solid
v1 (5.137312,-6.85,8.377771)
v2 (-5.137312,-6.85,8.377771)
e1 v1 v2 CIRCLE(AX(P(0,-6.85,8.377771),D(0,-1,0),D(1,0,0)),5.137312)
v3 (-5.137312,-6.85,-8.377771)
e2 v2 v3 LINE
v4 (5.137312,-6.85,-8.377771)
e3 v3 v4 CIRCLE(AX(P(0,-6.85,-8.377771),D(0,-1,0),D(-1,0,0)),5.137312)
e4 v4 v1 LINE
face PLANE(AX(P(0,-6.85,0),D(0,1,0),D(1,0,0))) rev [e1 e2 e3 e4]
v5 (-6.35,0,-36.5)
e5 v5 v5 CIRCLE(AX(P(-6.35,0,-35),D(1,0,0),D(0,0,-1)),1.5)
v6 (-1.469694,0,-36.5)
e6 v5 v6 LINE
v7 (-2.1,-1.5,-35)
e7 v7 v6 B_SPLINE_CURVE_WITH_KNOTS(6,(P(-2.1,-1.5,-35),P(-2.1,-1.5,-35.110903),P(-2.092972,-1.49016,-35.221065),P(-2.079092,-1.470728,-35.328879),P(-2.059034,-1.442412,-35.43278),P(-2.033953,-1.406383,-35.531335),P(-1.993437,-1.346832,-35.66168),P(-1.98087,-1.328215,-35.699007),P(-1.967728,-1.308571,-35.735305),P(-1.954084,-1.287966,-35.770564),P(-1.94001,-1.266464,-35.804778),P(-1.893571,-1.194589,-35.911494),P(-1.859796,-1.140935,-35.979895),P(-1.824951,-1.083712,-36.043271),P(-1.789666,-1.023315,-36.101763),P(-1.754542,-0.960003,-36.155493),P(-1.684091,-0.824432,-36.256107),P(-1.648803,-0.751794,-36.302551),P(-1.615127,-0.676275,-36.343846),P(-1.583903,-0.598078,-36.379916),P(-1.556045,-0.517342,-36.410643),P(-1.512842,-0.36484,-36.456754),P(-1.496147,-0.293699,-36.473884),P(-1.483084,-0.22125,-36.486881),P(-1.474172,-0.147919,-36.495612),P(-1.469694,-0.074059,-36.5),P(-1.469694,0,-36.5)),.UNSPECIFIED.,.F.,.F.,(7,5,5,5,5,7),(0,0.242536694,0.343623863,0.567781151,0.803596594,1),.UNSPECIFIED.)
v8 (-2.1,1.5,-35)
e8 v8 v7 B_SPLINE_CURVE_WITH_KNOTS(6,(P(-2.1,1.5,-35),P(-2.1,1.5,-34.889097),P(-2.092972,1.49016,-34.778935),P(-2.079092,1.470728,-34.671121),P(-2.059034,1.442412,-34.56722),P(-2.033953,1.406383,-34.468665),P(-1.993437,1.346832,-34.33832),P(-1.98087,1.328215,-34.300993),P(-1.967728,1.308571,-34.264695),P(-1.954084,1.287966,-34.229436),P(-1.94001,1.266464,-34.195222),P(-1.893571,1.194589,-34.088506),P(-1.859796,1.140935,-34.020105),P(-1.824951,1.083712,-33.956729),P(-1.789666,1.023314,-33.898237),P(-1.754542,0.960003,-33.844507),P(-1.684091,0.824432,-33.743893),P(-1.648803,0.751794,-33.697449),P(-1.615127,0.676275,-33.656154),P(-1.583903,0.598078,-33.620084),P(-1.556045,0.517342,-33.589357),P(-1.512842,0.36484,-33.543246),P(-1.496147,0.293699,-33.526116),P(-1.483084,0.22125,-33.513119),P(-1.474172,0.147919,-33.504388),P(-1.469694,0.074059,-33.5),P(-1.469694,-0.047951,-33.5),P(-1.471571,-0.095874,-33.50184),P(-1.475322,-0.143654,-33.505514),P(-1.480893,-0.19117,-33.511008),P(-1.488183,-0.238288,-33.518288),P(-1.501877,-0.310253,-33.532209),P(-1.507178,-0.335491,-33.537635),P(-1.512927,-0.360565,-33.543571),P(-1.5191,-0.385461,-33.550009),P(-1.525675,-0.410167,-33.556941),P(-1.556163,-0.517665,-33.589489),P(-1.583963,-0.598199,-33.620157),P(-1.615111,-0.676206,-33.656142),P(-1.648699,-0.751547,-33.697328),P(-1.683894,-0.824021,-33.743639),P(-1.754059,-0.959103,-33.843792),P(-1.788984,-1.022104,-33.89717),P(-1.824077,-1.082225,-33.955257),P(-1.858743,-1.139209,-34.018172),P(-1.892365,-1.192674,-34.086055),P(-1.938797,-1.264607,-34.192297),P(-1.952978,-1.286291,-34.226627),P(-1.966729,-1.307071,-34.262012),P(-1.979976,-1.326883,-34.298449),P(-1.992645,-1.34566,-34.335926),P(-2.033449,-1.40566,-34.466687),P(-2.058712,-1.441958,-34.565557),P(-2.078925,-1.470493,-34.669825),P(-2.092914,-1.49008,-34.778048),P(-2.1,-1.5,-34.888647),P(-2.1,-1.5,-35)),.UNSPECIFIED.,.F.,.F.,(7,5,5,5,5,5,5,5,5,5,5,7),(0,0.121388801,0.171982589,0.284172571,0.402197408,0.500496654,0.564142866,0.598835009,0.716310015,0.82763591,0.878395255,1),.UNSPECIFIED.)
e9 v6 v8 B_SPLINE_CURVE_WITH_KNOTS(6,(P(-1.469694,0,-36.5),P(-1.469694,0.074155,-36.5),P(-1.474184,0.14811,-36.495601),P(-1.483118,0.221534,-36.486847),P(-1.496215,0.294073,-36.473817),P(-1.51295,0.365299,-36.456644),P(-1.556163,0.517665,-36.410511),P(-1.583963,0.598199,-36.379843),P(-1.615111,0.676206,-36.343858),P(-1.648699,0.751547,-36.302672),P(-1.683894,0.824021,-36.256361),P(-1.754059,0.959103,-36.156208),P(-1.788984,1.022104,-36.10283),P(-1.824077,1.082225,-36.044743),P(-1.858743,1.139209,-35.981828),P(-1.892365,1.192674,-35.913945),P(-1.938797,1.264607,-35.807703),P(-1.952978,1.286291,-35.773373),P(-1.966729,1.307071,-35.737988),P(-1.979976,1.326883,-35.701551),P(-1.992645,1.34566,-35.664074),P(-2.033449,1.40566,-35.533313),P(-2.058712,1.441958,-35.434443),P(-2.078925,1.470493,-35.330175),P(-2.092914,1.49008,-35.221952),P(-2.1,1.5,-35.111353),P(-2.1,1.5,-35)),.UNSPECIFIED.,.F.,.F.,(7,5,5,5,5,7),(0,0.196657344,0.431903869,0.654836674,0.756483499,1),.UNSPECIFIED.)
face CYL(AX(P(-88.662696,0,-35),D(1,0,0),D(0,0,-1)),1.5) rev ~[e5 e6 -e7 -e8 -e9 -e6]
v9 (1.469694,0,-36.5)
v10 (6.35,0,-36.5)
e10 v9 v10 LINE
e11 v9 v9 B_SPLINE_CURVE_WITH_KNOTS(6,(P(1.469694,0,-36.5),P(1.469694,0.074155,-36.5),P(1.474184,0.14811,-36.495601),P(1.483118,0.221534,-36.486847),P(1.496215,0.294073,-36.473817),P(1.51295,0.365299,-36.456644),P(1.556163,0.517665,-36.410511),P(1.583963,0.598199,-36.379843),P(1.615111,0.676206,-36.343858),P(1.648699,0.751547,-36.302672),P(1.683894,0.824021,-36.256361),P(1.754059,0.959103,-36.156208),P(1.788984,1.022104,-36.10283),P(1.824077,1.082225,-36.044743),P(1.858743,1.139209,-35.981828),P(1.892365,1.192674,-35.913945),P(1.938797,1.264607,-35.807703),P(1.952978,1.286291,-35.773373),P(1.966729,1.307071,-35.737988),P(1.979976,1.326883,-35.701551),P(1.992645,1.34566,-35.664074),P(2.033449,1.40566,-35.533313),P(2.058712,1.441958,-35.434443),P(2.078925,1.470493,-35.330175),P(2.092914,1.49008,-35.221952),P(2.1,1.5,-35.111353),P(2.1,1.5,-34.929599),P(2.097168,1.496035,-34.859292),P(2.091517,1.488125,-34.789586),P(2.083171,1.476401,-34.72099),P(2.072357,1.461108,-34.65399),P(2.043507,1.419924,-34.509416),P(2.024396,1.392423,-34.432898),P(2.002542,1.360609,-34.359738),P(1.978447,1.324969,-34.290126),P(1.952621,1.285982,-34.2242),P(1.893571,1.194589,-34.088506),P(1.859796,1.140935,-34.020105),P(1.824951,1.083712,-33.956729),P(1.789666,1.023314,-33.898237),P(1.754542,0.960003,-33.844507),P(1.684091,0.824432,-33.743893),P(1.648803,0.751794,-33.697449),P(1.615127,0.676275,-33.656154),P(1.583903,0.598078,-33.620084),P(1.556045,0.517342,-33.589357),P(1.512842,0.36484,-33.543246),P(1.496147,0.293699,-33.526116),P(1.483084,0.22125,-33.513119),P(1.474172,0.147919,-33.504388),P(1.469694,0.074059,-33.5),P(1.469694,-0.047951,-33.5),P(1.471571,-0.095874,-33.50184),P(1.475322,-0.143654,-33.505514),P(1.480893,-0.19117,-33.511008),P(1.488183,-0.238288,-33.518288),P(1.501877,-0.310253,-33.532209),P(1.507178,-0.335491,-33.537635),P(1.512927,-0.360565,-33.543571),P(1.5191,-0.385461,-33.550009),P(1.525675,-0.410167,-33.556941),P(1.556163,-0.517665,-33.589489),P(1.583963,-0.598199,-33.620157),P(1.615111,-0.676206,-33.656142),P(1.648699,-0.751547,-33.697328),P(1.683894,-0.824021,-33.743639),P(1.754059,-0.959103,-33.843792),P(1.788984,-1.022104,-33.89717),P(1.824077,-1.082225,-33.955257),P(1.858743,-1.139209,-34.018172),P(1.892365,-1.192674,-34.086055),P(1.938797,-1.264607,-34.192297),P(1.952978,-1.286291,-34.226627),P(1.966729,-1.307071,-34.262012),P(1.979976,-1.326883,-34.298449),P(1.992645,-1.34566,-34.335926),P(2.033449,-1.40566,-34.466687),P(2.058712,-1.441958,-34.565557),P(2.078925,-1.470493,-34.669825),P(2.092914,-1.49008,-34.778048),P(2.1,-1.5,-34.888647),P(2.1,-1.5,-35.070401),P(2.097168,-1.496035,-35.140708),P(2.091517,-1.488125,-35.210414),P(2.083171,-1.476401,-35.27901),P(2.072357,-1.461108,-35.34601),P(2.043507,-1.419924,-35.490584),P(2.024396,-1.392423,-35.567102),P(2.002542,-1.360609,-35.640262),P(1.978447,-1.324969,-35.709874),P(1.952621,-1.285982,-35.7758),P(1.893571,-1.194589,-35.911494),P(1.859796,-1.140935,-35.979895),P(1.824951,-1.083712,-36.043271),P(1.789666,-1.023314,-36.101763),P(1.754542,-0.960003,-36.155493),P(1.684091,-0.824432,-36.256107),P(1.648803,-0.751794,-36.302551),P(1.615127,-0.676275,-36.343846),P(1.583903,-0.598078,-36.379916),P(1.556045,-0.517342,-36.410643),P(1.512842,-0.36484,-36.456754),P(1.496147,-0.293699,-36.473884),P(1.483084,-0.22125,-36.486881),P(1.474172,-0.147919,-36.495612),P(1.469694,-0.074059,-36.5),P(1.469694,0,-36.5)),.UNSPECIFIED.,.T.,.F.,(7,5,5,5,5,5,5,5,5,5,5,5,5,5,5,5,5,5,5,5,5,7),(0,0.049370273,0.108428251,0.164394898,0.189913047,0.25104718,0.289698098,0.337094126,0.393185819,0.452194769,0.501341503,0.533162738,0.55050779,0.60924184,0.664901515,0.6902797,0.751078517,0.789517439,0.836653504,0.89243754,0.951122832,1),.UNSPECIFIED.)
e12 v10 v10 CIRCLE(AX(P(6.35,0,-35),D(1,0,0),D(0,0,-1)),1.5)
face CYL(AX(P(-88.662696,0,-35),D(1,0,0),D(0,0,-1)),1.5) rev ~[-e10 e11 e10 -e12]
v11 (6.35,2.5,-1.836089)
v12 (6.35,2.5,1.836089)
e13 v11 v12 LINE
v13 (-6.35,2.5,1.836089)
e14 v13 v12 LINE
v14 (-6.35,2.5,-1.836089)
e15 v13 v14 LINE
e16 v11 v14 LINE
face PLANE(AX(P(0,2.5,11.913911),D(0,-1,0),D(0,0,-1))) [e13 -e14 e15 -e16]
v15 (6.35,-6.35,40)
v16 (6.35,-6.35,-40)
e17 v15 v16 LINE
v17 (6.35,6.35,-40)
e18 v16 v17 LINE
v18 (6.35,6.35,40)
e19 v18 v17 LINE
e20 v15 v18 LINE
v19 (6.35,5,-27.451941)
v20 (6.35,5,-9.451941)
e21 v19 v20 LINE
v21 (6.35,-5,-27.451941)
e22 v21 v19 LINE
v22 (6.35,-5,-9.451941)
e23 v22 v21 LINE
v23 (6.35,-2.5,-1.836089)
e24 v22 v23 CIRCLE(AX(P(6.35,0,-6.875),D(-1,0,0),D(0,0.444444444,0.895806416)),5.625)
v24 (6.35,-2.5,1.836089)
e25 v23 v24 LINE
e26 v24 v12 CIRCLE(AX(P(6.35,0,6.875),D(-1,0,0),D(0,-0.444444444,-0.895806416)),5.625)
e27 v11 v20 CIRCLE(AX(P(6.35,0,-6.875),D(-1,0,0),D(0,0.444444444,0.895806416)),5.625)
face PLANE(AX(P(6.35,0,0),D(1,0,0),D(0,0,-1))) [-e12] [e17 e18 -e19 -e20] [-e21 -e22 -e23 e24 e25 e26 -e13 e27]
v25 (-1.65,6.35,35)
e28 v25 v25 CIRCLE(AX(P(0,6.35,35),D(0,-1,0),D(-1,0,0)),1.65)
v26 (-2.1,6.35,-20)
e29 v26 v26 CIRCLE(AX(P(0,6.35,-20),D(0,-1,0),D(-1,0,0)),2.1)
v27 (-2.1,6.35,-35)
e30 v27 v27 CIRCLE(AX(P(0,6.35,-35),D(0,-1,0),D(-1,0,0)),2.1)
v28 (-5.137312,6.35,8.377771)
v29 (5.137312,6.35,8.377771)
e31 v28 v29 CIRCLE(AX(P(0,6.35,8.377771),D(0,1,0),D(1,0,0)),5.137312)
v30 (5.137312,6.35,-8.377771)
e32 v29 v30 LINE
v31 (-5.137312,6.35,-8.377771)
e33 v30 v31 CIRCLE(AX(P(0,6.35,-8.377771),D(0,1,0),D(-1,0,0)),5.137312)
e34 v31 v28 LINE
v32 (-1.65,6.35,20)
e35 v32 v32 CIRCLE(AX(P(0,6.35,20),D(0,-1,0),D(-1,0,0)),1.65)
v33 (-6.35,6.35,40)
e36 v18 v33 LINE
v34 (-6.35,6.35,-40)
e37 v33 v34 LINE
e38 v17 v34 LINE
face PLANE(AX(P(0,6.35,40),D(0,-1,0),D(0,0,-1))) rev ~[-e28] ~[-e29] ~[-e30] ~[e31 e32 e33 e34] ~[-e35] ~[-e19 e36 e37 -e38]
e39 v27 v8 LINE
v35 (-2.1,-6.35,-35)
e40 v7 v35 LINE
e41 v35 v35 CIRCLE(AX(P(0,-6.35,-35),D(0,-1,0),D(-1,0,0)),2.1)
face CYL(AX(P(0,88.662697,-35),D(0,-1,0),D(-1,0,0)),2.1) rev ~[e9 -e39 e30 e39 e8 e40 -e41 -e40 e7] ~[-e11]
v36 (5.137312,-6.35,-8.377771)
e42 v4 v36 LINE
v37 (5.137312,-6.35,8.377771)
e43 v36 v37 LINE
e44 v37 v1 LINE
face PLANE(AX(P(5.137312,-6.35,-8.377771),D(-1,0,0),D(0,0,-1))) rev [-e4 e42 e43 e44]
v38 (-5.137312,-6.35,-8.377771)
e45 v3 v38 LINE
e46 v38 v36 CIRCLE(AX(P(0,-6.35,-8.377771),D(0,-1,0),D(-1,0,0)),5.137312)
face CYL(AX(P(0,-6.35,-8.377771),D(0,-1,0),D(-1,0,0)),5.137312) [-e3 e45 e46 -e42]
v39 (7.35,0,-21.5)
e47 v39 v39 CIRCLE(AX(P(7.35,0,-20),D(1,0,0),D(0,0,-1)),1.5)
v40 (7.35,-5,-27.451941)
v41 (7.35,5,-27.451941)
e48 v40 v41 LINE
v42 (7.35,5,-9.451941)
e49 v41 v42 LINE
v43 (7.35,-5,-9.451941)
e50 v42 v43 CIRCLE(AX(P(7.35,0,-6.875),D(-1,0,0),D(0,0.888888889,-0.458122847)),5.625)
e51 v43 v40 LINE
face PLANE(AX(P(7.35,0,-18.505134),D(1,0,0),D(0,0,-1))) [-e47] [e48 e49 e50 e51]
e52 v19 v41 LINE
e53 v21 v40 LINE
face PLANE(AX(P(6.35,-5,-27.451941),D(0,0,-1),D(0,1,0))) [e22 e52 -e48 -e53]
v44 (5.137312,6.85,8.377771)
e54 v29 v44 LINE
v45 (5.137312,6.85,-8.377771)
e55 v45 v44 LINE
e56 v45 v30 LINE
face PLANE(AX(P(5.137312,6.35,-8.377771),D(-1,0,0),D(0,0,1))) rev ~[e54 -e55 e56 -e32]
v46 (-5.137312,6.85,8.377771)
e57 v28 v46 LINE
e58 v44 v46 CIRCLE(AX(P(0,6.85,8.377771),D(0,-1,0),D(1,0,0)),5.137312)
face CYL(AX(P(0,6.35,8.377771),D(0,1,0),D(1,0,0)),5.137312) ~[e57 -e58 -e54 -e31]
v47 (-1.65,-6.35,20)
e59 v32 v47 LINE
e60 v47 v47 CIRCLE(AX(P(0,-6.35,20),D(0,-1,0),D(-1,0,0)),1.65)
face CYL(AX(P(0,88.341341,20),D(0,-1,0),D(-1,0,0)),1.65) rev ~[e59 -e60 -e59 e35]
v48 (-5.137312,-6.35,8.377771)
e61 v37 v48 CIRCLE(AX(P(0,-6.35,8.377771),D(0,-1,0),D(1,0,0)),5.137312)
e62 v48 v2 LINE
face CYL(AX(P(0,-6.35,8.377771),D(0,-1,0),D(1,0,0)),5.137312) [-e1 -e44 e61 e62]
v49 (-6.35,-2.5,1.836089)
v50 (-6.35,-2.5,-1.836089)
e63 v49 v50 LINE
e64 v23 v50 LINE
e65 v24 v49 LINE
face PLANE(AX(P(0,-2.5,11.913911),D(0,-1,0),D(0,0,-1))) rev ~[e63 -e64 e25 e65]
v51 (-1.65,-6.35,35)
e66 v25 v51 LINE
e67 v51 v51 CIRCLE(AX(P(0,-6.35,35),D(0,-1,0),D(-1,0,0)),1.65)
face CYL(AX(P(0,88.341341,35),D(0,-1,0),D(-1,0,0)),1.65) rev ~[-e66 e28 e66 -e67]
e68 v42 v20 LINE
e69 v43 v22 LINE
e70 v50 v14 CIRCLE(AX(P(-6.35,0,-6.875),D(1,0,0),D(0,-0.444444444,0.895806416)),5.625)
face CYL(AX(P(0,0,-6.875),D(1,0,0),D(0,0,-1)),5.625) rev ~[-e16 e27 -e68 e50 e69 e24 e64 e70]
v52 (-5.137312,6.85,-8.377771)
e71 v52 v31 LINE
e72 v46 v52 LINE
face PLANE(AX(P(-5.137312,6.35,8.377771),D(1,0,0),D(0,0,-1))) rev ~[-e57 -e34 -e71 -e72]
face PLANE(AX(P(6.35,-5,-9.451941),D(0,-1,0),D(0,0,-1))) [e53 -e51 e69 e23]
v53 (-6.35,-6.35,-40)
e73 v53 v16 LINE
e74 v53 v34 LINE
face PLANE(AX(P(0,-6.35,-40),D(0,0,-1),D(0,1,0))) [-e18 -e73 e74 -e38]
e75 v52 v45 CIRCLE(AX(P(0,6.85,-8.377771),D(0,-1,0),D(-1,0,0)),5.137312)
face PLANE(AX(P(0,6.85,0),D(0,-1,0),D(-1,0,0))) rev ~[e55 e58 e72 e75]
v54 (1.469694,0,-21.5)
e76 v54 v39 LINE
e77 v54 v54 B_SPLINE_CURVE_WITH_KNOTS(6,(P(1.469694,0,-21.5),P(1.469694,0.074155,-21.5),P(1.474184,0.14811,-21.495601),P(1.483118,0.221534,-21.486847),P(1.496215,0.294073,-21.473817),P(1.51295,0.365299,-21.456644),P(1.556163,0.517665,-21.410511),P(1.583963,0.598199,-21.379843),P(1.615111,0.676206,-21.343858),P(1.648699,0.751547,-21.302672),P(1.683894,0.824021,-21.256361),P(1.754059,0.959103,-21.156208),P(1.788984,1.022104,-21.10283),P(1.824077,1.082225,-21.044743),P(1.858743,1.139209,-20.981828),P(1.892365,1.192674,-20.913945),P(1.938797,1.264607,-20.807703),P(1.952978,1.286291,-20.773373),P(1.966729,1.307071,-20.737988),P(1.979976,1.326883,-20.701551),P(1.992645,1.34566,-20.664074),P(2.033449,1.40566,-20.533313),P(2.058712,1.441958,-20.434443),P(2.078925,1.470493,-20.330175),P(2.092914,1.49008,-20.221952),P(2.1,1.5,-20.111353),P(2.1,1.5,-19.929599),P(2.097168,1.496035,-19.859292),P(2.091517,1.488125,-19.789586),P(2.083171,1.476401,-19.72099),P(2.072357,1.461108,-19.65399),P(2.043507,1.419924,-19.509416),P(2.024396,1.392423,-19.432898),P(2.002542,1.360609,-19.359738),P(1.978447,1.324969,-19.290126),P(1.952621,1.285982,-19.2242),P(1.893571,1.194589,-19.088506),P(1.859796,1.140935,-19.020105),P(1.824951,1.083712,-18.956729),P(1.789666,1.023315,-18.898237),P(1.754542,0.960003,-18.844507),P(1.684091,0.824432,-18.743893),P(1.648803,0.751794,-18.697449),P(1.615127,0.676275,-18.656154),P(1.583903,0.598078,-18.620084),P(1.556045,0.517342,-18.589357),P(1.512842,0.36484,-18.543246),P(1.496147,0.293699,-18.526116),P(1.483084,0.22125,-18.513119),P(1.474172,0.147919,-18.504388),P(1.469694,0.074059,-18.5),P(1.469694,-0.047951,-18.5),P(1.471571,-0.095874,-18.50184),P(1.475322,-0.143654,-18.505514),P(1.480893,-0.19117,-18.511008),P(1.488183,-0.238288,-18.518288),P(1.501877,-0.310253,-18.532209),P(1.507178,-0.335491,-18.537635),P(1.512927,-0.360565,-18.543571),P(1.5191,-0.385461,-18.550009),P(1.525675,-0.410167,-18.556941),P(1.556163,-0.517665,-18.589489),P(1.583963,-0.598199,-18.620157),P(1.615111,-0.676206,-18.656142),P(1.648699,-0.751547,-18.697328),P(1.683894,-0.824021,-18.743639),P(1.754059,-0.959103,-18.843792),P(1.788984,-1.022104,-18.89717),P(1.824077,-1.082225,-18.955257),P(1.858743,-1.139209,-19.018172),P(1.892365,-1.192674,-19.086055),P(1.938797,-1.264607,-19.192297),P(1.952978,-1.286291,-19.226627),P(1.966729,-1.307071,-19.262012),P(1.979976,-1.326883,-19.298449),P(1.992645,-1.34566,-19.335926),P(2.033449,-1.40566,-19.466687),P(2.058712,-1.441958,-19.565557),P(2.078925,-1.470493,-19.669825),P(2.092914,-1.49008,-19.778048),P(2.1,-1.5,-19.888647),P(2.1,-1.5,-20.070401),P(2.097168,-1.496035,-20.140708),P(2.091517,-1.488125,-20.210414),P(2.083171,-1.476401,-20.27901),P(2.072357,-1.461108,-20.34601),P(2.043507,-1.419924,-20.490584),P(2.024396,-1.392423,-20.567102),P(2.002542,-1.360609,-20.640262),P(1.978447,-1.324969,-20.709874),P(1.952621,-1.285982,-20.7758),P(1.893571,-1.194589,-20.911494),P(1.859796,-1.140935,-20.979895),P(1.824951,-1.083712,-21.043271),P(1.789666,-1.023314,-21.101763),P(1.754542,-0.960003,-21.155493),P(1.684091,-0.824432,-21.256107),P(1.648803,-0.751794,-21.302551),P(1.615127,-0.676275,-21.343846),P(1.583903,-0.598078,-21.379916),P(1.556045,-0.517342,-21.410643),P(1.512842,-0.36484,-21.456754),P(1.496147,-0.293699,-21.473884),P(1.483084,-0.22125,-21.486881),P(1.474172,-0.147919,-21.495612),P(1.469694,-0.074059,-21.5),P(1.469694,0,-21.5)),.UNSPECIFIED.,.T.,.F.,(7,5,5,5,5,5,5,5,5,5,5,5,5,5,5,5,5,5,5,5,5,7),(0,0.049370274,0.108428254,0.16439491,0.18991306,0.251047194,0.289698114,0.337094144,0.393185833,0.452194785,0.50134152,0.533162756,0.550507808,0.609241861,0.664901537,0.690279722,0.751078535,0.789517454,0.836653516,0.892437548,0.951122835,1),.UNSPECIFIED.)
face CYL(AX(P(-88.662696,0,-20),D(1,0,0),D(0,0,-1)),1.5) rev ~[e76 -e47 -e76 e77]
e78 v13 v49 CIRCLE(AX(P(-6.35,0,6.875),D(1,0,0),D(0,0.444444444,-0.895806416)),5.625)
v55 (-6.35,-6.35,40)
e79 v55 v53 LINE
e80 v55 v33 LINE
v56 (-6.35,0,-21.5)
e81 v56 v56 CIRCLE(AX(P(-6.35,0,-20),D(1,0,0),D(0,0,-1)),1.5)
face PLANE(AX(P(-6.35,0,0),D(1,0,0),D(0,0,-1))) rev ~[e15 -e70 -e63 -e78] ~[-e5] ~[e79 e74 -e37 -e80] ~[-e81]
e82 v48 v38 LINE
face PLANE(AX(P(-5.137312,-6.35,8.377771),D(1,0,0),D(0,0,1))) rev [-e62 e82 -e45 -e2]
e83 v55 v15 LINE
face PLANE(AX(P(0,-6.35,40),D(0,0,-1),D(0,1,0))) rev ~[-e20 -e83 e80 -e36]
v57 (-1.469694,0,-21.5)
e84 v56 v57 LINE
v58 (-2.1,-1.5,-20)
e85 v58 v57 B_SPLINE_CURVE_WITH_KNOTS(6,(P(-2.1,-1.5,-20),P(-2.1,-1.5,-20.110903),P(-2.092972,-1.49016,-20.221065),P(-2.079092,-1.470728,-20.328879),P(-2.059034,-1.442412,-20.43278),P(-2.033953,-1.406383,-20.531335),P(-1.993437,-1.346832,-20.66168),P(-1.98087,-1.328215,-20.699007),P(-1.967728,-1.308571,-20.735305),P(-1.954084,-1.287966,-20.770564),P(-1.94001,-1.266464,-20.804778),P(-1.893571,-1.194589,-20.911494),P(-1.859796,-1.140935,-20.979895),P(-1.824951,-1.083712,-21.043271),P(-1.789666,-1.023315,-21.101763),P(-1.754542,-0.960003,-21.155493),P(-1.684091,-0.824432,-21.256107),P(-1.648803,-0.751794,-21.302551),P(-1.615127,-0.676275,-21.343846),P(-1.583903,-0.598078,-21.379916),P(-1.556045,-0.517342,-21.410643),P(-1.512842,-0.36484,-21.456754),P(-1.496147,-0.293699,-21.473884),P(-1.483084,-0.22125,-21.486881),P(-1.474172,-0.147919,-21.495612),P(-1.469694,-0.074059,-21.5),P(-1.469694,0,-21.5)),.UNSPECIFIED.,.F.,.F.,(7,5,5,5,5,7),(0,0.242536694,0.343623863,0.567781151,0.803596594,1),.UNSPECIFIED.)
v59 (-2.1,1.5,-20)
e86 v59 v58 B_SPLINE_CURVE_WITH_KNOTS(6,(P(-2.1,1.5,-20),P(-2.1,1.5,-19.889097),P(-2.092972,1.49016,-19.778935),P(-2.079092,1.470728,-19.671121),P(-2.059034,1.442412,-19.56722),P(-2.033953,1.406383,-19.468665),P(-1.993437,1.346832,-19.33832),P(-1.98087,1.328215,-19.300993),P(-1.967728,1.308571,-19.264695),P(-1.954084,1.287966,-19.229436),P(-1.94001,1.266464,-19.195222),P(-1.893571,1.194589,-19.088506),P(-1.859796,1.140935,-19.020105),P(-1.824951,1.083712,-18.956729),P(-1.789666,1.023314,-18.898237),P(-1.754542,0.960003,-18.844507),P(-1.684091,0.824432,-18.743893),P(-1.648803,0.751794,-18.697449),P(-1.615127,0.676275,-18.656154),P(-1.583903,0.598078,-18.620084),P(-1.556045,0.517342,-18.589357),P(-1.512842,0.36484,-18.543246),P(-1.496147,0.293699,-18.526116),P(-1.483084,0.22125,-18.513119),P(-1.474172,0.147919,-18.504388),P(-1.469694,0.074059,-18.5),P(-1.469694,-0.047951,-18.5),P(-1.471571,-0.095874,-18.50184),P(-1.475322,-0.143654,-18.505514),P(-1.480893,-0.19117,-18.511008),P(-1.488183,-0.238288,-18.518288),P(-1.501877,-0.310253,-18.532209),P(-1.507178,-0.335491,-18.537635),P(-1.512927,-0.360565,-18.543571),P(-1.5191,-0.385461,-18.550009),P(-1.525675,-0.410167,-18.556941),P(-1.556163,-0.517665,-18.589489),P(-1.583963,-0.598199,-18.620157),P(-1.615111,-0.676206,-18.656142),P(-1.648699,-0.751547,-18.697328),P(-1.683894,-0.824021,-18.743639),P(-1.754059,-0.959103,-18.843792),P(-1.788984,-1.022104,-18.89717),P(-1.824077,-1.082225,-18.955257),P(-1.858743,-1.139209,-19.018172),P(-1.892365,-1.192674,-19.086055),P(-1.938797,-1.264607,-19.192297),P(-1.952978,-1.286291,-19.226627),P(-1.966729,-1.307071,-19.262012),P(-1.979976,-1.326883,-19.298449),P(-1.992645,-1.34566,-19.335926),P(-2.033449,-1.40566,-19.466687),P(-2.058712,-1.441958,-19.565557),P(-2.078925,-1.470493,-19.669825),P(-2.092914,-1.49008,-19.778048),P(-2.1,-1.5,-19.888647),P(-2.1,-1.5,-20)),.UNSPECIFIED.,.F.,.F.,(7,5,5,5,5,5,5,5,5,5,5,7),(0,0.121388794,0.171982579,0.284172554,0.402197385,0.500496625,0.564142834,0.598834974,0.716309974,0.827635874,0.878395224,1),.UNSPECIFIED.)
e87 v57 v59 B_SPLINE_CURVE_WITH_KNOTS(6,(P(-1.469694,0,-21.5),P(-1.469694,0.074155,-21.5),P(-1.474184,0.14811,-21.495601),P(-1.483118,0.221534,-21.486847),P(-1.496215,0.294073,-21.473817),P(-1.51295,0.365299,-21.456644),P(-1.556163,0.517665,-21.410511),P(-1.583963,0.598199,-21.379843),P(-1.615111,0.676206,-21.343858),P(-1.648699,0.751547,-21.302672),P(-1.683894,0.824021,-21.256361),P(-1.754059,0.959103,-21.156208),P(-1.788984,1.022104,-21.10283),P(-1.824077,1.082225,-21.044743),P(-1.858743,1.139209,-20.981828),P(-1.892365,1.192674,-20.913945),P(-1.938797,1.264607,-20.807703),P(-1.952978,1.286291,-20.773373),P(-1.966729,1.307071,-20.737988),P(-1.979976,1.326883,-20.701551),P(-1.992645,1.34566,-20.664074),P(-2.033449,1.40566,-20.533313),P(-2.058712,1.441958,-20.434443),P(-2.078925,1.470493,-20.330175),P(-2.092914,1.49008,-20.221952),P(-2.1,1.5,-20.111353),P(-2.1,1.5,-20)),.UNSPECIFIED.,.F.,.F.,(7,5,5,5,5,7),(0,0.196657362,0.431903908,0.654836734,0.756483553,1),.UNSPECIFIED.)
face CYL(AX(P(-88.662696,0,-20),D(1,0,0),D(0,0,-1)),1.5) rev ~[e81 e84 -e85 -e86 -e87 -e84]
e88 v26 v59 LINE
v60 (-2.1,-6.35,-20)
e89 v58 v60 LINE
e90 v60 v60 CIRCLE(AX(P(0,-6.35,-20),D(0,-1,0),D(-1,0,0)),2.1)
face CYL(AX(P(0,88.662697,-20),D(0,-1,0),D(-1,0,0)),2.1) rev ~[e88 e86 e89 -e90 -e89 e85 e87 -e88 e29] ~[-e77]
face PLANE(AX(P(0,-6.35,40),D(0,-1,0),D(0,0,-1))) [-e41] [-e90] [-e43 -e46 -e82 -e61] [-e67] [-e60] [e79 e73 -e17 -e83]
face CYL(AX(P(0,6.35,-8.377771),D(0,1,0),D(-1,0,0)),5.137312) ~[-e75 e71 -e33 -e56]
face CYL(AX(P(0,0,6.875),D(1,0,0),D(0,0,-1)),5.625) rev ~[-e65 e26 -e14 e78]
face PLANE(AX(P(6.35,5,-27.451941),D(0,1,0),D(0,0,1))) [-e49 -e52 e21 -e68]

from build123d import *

# Parameters (mm, degrees)
SKETCH1_W               = 80
SKETCH1_H               = 12.7
BOSS_EXTRUDE1_DEPTH     = 6.35
SKETCH2_R               = 5.625
CUT_EXTRUDE1_DEPTH      = 7.35
CUT_EXTRUDE1_DEPTH_BACK = 7.35
SKETCH3_W               = 23.827822186
SKETCH3_H               = 5
CUT_EXTRUDE2_DEPTH      = 7.35
CUT_EXTRUDE2_DEPTH_BACK = 7.35
M4X0_7_TAPPED_HOLE1_D   = 3.3
GOO_DEPTH               = 0.5
BOSS_EXTRUDE5_DEPTH     = 1
F_3_0MM_DOWEL_HOLE1_D   = 3
M5X0_8_TAPPED_HOLE1_D   = 4.2


with BuildPart() as part:
    # Sketch1 → Boss-Extrude1 (new body, symmetric)
    with BuildSketch(Plane(origin=(0, 0, 0), x_dir=(0, 0, -1), z_dir=(1, 0, 0))):
        Rectangle(SKETCH1_W, SKETCH1_H)
    extrude(amount=BOSS_EXTRUDE1_DEPTH, both=True)

    # Sketch2 → Cut-Extrude1 (cut, two sides)
    with BuildSketch(Plane(origin=(0, 0, 0), x_dir=(0, 0, -1), z_dir=(1, 0, 0))) as cut_extrude1_sk:
        with Locations((-6.875, 0)):
            Circle(SKETCH2_R)
        with Locations((6.875, 0)):
            Circle(SKETCH2_R)
    extrude(amount=CUT_EXTRUDE1_DEPTH, mode=Mode.SUBTRACT)
    extrude(cut_extrude1_sk.sketch, amount=-CUT_EXTRUDE1_DEPTH_BACK, mode=Mode.SUBTRACT)

    # Sketch3 → Cut-Extrude2 (cut, two sides)
    with BuildSketch(Plane(origin=(0, 0, 0), x_dir=(0, 0, -1), z_dir=(1, 0, 0))) as cut_extrude2_sk:
        Rectangle(SKETCH3_W, SKETCH3_H)
    extrude(amount=CUT_EXTRUDE2_DEPTH, mode=Mode.SUBTRACT)
    extrude(cut_extrude2_sk.sketch, amount=-CUT_EXTRUDE2_DEPTH_BACK, mode=Mode.SUBTRACT)

    # M4x0.7 Tapped Hole1 (through all)
    with Locations(Plane(origin=(0, 6.35, 0), x_dir=(1, 0, 0), z_dir=(0, 1, 0))):
        with Locations((0, 35), (0, 20), (0, -20), (0, -35)):
            Hole(M4X0_7_TAPPED_HOLE1_D / 2)

    # Sketch8 → Goo (add, symmetric)
    with BuildSketch(Plane(origin=(0, 6.35, 0), x_dir=(1, 0, 0), z_dir=(0, 1, 0))):
        with BuildLine():
            Line((-5.13731221, -8.377770681), (-5.13731221, 8.377770681))
            ThreePointArc((-5.13731221, 8.377770681), (0, 13.515082891), (5.13731221, 8.377770681))
            Line((5.13731221, 8.377770681), (5.13731221, -8.377770681))
            ThreePointArc((5.13731221, -8.377770681), (0, -13.515082891), (-5.13731221, -8.377770681))
        make_face()
    goo = extrude(amount=GOO_DEPTH, both=True)

    # Mirror1: Goo across plane
    add(goo.mirror(Plane.ZX))

    # Sketch9 → Boss-Extrude5 (add, symmetric)
    with BuildSketch(Plane(origin=(6.35, 0, 0), x_dir=(0, 0, -1), z_dir=(1, 0, 0))):
        with BuildLine():
            Line((9.451941016, -5), (27.451941016, -5))
            Line((27.451941016, -5), (27.451941016, 5))
            Line((27.451941016, 5), (9.451941016, 5))
            ThreePointArc((9.451941016, 5), (12.5, 0), (9.451941016, -5))
        make_face()
    extrude(amount=BOSS_EXTRUDE5_DEPTH, both=True)

    # Ø3.0mm Dowel Hole1 (through all)
    with Locations(Plane.ZY.offset(6.35)):
        with Locations((-20, 0), (-35, 0)):
            Hole(F_3_0MM_DOWEL_HOLE1_D / 2)

    # M5x0.8 Tapped Hole1 (through all)
    with Locations(Plane(origin=(0, 6.35, 0), x_dir=(1, 0, 0), z_dir=(0, 1, 0))):
        with Locations((0, 35), (0, 20)):
            Hole(M5X0_8_TAPPED_HOLE1_D / 2)


solid = part.part
